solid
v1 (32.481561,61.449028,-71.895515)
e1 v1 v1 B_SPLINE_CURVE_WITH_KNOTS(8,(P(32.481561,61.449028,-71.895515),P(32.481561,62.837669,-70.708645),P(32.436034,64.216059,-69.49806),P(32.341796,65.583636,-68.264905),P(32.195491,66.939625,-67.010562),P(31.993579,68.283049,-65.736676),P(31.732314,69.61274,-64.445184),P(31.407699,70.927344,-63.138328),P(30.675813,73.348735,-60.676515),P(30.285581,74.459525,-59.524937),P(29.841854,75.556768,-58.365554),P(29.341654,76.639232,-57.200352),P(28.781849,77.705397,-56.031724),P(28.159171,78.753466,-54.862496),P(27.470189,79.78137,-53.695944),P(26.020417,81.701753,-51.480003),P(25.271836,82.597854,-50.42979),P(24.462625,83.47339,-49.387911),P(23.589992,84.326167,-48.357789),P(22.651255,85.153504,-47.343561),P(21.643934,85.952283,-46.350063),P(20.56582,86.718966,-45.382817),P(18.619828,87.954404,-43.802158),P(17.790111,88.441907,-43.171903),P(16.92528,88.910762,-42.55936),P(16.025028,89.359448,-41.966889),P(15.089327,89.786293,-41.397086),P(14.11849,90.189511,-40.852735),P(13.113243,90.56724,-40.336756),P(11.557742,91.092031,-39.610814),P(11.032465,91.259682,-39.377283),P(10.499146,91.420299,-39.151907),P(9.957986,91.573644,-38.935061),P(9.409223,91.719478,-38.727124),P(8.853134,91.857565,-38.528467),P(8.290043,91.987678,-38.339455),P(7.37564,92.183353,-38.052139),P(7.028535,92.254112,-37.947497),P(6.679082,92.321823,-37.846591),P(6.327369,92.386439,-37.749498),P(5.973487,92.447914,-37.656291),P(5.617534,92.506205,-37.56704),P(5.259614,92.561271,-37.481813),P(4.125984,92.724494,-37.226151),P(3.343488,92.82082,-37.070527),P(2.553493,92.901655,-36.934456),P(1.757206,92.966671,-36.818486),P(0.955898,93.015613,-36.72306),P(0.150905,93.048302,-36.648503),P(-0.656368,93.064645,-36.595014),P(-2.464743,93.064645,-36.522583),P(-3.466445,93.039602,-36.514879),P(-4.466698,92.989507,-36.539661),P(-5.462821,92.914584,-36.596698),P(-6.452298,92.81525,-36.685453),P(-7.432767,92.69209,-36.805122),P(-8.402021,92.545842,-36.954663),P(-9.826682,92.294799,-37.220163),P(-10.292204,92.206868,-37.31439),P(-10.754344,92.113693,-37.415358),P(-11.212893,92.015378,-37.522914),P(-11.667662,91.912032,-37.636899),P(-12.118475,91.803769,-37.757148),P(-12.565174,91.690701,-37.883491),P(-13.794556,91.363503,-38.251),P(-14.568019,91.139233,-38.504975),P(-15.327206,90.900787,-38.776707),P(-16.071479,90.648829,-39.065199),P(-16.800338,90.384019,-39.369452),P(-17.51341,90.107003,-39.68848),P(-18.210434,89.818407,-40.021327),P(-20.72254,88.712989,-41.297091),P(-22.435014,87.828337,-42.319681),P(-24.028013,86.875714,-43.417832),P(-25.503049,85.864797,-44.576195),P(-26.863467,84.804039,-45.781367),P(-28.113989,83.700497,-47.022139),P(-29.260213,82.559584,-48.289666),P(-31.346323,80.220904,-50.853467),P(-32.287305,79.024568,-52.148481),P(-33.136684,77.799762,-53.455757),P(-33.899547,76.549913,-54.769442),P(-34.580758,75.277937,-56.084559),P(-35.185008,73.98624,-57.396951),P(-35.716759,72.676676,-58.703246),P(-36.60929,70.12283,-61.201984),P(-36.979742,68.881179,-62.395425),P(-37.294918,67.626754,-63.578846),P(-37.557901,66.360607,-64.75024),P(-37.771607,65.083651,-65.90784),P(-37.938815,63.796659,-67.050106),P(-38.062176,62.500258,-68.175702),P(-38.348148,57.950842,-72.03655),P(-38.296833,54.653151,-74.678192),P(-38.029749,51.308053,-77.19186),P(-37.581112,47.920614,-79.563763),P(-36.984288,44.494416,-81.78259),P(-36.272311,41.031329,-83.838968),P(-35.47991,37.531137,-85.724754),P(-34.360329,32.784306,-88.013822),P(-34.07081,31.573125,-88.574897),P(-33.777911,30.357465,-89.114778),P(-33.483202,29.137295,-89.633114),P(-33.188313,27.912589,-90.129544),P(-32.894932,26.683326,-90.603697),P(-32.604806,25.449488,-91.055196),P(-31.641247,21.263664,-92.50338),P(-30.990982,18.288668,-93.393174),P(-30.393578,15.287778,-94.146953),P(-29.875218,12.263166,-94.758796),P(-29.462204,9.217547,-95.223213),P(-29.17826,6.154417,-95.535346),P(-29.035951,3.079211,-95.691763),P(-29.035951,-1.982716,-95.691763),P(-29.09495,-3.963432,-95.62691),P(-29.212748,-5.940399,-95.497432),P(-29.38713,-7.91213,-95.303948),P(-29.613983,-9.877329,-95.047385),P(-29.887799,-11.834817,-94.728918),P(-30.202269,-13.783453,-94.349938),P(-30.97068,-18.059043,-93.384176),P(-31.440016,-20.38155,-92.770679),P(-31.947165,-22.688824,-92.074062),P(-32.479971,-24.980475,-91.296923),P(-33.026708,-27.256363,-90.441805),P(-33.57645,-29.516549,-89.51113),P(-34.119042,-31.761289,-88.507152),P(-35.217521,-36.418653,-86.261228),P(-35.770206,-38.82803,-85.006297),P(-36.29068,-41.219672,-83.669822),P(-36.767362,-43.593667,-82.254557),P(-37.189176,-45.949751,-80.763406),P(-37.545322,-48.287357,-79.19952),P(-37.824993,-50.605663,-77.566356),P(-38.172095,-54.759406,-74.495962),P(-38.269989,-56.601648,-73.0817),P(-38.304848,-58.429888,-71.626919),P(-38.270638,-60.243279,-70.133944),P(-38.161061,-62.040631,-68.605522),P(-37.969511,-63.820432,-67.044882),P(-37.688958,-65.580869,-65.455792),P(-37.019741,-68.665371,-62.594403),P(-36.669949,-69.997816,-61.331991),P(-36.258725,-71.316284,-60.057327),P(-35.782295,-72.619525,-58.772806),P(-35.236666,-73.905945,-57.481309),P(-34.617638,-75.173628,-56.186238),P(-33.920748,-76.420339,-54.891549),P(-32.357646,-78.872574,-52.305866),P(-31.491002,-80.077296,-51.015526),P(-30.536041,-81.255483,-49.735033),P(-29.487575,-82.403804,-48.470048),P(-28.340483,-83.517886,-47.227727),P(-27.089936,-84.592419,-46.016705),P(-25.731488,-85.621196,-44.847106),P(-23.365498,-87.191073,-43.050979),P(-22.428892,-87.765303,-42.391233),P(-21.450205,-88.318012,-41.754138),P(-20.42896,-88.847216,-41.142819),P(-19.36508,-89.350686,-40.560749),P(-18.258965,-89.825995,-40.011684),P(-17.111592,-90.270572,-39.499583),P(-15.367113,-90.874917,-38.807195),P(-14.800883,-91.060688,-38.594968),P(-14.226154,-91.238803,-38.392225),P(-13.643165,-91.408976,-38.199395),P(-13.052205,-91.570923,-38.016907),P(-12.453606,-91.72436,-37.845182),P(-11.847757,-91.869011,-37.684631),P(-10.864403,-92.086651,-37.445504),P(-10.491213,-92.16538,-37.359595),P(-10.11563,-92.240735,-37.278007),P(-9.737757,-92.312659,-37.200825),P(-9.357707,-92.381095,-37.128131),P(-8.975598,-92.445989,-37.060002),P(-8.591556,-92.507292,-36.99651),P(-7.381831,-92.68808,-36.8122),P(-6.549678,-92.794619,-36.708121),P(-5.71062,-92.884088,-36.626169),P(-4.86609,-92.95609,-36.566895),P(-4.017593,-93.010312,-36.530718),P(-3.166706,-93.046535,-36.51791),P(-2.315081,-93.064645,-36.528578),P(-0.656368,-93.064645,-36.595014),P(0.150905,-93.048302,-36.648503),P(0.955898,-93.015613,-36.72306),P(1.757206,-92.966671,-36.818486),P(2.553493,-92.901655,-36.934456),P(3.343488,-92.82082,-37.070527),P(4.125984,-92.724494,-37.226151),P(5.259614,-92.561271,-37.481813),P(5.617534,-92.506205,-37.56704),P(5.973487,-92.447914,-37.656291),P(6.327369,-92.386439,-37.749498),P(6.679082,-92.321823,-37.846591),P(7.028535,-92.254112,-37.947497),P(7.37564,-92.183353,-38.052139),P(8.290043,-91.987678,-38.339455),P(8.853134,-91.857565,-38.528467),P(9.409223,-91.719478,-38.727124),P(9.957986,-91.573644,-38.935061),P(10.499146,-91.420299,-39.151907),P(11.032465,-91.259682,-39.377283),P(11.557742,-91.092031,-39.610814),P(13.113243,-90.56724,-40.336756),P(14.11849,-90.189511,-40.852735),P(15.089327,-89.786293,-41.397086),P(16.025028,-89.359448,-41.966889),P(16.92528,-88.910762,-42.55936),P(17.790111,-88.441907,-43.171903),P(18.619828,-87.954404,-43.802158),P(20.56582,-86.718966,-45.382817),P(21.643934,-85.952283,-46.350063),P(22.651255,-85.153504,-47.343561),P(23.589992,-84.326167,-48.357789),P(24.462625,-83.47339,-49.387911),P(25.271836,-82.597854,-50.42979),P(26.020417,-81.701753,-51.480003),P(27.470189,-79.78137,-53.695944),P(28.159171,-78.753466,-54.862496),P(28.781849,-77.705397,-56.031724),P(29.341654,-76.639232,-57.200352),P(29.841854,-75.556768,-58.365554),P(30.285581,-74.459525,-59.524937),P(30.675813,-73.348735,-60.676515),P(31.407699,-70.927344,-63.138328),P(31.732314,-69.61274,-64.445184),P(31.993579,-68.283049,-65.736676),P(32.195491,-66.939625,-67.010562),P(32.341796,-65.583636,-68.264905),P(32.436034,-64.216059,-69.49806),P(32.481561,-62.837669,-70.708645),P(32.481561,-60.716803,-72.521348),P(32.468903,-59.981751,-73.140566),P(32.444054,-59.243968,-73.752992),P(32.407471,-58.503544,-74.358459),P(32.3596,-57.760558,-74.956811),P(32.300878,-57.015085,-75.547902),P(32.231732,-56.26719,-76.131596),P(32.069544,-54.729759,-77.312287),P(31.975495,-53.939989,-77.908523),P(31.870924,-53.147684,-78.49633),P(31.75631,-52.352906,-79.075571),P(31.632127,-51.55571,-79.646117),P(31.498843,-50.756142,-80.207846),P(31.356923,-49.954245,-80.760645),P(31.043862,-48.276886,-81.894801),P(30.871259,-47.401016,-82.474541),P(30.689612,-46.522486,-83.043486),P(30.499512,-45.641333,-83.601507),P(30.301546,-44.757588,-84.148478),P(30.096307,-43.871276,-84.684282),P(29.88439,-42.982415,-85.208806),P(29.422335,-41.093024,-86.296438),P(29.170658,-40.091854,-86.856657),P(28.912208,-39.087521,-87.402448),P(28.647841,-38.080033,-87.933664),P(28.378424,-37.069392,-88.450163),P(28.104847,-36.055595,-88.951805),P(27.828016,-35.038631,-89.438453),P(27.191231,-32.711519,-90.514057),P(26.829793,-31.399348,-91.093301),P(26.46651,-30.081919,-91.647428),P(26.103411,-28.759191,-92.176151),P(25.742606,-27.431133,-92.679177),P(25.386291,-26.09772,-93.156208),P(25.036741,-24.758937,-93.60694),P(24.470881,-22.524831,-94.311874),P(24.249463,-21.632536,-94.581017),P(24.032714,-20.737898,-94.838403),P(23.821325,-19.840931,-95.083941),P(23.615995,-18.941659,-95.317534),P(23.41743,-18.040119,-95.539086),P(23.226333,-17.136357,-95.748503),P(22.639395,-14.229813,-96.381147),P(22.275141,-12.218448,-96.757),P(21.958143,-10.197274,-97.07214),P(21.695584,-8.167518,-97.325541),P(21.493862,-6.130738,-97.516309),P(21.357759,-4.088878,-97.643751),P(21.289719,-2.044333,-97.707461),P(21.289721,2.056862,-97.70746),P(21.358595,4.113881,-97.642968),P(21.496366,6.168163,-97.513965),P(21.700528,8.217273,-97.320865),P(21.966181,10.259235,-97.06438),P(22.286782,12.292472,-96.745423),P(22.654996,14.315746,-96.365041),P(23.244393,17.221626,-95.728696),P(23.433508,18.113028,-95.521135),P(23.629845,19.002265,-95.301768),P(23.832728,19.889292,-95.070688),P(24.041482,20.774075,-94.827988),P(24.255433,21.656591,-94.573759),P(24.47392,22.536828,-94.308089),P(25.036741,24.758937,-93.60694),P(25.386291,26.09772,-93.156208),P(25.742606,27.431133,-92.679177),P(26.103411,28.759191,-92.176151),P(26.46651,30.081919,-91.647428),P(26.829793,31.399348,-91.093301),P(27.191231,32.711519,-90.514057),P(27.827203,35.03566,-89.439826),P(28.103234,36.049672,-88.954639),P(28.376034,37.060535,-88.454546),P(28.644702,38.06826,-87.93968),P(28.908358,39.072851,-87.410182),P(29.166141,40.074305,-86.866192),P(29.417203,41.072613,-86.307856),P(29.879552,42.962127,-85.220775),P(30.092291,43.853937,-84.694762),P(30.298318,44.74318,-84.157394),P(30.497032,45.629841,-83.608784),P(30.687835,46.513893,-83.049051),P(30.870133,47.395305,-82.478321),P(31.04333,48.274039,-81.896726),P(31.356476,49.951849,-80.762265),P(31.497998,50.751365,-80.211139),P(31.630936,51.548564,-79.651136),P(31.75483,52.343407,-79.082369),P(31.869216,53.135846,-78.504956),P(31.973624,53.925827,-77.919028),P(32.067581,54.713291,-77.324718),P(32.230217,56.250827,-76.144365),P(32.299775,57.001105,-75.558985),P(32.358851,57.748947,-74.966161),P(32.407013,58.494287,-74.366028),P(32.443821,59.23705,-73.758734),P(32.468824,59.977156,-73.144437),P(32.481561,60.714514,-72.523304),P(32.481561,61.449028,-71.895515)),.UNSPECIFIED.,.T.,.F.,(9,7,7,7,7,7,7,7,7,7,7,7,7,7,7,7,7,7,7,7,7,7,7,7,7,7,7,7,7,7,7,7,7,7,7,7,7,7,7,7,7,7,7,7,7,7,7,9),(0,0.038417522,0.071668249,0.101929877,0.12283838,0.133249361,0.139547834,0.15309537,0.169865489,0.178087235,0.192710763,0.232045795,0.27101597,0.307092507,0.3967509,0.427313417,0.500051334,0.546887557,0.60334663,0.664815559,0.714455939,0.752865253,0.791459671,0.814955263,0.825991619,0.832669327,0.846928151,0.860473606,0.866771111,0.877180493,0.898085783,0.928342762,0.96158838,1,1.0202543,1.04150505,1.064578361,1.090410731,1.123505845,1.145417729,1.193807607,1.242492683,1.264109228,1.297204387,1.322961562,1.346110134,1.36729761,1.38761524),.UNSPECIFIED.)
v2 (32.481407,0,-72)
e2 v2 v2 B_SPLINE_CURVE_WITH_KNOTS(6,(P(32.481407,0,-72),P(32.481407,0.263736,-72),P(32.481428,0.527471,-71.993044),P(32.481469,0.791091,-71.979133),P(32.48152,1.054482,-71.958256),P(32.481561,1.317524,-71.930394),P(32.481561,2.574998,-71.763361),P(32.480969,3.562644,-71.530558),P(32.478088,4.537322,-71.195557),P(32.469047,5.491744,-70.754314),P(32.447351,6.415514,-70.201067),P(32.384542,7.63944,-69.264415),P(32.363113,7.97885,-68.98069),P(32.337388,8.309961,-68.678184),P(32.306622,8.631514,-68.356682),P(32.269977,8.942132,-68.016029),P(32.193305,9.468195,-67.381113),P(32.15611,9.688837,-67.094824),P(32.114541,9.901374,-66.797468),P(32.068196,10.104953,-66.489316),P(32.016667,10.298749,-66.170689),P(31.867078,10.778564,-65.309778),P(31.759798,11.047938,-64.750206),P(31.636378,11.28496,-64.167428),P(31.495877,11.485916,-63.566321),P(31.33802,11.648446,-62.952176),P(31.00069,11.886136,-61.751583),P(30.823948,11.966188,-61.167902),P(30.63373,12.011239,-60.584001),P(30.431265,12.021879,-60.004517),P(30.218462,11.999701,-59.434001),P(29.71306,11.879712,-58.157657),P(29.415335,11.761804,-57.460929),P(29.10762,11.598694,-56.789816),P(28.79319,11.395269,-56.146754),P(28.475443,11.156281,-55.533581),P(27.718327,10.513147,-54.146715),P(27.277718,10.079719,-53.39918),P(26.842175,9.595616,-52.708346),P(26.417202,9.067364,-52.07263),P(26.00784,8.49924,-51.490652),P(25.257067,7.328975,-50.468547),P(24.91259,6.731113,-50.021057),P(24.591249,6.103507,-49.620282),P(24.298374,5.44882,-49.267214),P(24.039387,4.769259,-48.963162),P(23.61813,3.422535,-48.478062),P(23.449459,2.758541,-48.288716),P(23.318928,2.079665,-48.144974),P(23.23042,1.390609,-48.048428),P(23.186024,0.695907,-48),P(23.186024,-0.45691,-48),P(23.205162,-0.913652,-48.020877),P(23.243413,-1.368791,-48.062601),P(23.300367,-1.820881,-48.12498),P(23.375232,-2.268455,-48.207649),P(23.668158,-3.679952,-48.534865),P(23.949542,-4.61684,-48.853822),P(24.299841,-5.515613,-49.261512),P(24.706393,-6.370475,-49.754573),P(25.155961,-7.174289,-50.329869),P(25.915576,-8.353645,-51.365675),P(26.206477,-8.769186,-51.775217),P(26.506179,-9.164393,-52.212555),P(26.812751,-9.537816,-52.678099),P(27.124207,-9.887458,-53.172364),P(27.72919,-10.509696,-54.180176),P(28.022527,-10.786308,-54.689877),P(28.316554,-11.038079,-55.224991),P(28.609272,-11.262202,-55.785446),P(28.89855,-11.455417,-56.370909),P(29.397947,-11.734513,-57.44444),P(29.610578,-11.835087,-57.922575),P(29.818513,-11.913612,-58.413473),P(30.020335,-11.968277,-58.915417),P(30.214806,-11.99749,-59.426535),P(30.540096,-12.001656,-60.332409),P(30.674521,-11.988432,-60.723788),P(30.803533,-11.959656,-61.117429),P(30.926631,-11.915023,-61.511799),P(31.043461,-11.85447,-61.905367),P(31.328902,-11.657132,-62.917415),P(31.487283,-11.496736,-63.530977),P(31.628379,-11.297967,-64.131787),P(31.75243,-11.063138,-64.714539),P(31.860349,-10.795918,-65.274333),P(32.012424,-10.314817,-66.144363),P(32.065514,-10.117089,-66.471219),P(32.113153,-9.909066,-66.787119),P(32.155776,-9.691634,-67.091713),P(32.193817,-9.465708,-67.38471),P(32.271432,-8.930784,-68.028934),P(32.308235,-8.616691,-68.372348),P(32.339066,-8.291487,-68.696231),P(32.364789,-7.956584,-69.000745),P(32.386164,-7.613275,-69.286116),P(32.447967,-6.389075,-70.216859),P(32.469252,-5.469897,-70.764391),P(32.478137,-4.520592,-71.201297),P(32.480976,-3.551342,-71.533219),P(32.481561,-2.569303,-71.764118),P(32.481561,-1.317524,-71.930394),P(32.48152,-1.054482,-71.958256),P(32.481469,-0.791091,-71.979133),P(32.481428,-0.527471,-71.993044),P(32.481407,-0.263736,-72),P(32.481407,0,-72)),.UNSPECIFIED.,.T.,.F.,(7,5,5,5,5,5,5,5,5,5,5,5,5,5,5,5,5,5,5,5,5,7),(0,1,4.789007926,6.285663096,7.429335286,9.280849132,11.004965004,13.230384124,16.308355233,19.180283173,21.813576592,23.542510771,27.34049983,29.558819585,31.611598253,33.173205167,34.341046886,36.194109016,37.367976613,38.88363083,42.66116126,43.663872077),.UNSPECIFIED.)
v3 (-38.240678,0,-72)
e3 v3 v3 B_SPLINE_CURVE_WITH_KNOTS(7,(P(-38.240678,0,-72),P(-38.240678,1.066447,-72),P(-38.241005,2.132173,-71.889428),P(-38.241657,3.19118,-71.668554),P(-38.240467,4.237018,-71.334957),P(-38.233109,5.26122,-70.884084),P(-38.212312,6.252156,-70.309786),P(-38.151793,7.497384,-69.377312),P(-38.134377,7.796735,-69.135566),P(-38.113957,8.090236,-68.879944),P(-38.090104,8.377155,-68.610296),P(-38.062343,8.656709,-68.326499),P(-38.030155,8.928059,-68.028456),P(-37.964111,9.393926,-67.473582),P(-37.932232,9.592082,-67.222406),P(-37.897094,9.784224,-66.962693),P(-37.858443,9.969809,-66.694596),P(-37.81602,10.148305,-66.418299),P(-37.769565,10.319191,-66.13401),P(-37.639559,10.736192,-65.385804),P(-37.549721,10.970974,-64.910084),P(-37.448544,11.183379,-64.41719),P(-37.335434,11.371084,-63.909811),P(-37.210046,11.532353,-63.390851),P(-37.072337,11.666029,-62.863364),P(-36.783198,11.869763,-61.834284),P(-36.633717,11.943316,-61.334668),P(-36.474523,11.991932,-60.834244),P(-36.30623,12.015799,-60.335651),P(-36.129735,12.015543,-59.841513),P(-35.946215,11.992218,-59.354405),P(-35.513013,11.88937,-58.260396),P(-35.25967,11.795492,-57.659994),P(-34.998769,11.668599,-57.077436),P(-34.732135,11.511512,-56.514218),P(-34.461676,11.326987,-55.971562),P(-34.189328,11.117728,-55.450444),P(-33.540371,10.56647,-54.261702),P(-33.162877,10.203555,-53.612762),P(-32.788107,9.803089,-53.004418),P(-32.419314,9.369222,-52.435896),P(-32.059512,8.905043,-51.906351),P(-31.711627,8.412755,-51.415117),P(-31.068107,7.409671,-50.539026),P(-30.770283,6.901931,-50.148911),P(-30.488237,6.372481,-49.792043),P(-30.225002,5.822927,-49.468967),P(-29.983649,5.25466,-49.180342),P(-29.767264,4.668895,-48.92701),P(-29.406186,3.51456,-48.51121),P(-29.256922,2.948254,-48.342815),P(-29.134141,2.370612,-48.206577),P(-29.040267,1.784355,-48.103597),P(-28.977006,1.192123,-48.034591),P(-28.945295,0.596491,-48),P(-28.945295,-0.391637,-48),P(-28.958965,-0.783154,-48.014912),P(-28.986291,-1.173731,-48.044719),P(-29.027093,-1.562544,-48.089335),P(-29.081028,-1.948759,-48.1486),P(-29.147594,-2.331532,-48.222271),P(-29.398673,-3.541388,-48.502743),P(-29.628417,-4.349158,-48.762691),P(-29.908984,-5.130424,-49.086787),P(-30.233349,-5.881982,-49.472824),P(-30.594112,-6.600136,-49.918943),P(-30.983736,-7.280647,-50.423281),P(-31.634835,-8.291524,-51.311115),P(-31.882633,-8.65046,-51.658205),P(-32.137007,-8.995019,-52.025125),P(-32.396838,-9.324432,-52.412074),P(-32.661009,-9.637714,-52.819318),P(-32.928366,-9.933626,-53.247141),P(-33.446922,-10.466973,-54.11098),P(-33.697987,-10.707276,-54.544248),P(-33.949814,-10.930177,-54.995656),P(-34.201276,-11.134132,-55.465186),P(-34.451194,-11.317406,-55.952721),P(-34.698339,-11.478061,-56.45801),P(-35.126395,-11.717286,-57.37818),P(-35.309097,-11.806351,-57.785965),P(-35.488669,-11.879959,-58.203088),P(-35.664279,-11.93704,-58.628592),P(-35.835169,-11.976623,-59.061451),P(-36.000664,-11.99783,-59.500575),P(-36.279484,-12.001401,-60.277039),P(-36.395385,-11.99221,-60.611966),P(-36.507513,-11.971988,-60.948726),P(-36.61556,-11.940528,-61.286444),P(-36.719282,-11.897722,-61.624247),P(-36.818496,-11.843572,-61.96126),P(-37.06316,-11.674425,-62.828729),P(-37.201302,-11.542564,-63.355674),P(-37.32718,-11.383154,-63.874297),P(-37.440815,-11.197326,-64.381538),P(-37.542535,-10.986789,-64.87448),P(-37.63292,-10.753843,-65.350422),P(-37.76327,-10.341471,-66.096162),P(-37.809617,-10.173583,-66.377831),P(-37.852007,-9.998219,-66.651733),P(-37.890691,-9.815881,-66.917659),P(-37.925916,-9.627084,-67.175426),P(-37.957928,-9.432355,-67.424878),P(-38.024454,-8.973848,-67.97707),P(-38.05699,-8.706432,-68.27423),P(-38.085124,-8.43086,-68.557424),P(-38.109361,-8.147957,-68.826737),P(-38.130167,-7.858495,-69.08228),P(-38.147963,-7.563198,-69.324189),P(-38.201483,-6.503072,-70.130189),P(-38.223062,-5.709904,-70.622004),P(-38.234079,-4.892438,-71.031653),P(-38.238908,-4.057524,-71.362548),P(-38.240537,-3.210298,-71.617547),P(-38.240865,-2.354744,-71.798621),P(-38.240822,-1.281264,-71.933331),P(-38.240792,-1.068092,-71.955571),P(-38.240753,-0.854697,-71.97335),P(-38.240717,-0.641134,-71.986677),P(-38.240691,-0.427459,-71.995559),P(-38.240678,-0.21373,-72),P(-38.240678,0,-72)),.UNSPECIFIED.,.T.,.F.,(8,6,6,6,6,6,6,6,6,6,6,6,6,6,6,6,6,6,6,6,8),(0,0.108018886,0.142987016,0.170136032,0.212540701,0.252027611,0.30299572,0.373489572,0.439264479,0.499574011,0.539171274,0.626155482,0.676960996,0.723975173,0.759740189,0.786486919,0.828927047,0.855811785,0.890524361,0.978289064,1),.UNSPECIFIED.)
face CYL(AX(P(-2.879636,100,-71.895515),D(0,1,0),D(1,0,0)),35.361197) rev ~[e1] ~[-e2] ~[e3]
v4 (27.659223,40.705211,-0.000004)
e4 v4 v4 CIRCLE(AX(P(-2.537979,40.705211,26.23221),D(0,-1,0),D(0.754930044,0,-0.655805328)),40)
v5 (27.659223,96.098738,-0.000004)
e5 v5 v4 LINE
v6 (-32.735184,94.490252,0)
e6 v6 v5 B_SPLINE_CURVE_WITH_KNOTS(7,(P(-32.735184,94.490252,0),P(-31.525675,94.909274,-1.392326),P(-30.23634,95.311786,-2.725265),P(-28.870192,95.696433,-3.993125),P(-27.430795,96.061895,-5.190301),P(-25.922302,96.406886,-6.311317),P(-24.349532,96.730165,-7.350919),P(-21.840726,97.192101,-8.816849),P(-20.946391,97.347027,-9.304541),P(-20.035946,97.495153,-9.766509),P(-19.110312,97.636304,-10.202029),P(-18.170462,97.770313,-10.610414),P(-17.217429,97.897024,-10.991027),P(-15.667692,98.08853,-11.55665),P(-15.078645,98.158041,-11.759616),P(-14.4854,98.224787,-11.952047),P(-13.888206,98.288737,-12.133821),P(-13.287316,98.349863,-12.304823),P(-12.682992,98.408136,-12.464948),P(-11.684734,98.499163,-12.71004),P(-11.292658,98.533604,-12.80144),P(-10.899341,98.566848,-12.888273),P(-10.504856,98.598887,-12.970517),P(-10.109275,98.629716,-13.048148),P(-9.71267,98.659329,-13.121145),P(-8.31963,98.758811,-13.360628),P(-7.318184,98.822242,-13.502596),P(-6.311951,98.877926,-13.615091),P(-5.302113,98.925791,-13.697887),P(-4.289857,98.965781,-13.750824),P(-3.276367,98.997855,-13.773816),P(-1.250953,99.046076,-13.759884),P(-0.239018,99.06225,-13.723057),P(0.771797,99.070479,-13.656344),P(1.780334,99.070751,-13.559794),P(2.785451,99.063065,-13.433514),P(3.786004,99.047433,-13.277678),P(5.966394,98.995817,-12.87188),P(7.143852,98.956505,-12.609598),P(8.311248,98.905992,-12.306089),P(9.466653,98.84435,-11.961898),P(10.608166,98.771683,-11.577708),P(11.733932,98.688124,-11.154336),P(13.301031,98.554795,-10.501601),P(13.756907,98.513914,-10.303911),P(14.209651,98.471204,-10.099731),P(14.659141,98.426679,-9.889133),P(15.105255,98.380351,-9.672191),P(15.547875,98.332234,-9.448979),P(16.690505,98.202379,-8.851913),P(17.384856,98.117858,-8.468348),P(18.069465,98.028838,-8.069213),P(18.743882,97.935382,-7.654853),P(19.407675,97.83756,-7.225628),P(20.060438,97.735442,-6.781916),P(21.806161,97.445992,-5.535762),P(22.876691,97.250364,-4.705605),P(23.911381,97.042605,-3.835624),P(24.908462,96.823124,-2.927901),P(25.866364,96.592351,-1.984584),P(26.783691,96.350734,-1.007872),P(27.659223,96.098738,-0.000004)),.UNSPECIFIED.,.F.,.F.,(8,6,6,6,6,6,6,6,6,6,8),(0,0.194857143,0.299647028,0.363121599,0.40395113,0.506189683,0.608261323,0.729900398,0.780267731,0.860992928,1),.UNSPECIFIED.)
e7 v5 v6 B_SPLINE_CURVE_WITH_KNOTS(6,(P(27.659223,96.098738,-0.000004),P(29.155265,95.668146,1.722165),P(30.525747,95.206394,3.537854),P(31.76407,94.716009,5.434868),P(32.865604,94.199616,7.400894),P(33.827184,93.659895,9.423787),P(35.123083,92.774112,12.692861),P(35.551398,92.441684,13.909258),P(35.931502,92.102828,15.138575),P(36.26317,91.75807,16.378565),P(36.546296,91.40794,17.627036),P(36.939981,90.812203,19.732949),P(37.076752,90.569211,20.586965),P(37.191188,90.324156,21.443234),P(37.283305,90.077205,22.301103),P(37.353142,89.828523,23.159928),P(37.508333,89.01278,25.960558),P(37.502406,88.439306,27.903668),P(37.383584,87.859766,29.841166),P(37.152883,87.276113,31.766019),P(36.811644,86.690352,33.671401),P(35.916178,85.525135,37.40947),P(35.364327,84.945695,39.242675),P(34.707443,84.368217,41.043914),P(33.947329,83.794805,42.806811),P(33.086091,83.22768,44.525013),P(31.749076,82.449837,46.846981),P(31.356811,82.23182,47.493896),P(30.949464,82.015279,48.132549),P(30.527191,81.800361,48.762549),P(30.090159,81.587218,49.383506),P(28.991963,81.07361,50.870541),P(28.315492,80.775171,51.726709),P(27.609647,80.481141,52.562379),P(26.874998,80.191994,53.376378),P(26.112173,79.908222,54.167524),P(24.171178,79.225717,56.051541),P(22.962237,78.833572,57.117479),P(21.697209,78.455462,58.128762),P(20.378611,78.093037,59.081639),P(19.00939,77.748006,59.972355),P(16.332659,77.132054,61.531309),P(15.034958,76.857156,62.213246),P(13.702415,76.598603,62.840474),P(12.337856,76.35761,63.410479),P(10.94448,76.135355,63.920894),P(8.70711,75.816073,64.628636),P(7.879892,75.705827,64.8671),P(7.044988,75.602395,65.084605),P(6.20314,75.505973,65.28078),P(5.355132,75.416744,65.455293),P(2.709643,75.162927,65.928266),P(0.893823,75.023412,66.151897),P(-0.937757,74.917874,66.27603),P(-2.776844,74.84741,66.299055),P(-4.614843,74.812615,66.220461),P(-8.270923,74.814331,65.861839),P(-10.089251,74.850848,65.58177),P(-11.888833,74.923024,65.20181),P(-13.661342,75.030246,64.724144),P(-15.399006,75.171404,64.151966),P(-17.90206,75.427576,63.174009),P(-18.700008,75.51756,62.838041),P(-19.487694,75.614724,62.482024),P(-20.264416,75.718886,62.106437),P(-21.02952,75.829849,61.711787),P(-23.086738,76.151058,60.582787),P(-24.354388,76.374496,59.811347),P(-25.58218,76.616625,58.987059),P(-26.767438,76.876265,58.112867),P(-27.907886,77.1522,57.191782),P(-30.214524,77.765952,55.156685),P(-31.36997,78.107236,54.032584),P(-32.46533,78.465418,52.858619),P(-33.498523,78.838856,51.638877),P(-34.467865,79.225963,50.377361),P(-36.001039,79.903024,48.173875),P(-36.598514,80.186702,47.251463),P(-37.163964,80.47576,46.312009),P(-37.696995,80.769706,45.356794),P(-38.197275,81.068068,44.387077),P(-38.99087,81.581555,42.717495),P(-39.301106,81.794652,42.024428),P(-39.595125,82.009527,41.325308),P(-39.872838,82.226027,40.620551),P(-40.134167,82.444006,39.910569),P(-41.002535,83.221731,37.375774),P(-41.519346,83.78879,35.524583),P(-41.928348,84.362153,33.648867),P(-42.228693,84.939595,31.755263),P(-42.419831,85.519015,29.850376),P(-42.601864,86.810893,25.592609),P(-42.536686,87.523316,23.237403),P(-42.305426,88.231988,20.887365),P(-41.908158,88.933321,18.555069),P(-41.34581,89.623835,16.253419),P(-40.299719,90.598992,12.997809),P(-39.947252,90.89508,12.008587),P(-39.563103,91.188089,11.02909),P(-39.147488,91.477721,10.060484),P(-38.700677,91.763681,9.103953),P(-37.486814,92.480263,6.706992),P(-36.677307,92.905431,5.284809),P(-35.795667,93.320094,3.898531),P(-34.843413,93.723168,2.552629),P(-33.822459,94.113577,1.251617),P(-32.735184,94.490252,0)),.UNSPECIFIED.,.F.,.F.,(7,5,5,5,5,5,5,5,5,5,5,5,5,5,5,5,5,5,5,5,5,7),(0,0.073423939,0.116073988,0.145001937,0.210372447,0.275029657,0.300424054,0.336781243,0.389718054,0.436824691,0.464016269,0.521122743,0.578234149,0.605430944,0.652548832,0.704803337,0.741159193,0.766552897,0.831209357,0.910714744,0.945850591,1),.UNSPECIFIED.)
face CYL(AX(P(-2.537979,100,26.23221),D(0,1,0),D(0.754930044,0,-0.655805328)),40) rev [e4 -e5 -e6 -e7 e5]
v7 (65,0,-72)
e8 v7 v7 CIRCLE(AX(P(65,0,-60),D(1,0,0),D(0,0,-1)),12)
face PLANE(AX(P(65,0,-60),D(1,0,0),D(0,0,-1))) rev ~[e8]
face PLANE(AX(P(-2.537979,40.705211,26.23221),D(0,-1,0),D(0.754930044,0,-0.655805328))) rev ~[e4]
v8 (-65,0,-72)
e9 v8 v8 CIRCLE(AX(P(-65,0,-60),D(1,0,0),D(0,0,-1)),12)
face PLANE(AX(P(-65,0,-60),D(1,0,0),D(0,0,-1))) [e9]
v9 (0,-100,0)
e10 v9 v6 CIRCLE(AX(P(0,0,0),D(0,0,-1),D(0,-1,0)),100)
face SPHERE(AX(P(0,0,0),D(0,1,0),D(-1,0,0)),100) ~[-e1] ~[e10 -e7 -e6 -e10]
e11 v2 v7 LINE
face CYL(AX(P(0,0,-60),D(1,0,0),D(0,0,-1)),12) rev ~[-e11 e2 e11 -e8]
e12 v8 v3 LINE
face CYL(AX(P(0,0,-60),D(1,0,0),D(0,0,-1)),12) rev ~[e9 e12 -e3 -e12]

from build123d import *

# Parameters (mm, degrees)
SKETCH6_R          = 40
CUT_EXTRUDE3_DEPTH = 59.294788524860515
SKETCH10_R         = 35.361197
CUT_EXTRUDE6_DEPTH = 199.0000000000001
SKETCH13_R         = 11.999999999999975
CUT_EXTRUDE7_DEPTH = 65


with BuildPart() as part:
    # Sketch2 → Revolve2 (revolve)
    with BuildSketch(Plane.XY):
        with BuildLine():
            Line((0, 100), (2.776e-14, -100))
            ThreePointArc((2.776e-14, -100), (-100, 1.225e-14), (0, 100))
        make_face()
    revolve(axis=Axis((0, 100, 0), (1.4e-16, -1, 0)))

    # Sketch6 → Cut-Extrude3 (cut)
    with BuildSketch(Plane(origin=(-2.5379788603345292, 100, 26.23220958860291), x_dir=(-1, 0, 0), z_dir=(0, -1, 0))):
        with Locations(Location((0, 0, 0), (0, 0, 139.019257533))):
            Circle(SKETCH6_R)
    extrude(amount=CUT_EXTRUDE3_DEPTH, mode=Mode.SUBTRACT)

    # Sketch10 → Cut-Extrude6 (cut)
    with BuildSketch(Plane(origin=(-2.879635505276285, 100, -0.1784267377198251), x_dir=(1, 0, 0), z_dir=(0, 1, 0))):
        with Locations((0, 71.71708866685675)):
            Circle(SKETCH10_R)
    extrude(amount=-CUT_EXTRUDE6_DEPTH, mode=Mode.SUBTRACT)

    # Sketch13 → Cut-Extrude7 (cut, symmetric)
    with BuildSketch(Plane(origin=(0, 0, 0), x_dir=(0, 0, -1), z_dir=(1, 0, 0))):
        with Locations((60, 0)):
            Circle(SKETCH13_R)
    extrude(amount=CUT_EXTRUDE7_DEPTH, both=True, mode=Mode.SUBTRACT)


solid = part.part
